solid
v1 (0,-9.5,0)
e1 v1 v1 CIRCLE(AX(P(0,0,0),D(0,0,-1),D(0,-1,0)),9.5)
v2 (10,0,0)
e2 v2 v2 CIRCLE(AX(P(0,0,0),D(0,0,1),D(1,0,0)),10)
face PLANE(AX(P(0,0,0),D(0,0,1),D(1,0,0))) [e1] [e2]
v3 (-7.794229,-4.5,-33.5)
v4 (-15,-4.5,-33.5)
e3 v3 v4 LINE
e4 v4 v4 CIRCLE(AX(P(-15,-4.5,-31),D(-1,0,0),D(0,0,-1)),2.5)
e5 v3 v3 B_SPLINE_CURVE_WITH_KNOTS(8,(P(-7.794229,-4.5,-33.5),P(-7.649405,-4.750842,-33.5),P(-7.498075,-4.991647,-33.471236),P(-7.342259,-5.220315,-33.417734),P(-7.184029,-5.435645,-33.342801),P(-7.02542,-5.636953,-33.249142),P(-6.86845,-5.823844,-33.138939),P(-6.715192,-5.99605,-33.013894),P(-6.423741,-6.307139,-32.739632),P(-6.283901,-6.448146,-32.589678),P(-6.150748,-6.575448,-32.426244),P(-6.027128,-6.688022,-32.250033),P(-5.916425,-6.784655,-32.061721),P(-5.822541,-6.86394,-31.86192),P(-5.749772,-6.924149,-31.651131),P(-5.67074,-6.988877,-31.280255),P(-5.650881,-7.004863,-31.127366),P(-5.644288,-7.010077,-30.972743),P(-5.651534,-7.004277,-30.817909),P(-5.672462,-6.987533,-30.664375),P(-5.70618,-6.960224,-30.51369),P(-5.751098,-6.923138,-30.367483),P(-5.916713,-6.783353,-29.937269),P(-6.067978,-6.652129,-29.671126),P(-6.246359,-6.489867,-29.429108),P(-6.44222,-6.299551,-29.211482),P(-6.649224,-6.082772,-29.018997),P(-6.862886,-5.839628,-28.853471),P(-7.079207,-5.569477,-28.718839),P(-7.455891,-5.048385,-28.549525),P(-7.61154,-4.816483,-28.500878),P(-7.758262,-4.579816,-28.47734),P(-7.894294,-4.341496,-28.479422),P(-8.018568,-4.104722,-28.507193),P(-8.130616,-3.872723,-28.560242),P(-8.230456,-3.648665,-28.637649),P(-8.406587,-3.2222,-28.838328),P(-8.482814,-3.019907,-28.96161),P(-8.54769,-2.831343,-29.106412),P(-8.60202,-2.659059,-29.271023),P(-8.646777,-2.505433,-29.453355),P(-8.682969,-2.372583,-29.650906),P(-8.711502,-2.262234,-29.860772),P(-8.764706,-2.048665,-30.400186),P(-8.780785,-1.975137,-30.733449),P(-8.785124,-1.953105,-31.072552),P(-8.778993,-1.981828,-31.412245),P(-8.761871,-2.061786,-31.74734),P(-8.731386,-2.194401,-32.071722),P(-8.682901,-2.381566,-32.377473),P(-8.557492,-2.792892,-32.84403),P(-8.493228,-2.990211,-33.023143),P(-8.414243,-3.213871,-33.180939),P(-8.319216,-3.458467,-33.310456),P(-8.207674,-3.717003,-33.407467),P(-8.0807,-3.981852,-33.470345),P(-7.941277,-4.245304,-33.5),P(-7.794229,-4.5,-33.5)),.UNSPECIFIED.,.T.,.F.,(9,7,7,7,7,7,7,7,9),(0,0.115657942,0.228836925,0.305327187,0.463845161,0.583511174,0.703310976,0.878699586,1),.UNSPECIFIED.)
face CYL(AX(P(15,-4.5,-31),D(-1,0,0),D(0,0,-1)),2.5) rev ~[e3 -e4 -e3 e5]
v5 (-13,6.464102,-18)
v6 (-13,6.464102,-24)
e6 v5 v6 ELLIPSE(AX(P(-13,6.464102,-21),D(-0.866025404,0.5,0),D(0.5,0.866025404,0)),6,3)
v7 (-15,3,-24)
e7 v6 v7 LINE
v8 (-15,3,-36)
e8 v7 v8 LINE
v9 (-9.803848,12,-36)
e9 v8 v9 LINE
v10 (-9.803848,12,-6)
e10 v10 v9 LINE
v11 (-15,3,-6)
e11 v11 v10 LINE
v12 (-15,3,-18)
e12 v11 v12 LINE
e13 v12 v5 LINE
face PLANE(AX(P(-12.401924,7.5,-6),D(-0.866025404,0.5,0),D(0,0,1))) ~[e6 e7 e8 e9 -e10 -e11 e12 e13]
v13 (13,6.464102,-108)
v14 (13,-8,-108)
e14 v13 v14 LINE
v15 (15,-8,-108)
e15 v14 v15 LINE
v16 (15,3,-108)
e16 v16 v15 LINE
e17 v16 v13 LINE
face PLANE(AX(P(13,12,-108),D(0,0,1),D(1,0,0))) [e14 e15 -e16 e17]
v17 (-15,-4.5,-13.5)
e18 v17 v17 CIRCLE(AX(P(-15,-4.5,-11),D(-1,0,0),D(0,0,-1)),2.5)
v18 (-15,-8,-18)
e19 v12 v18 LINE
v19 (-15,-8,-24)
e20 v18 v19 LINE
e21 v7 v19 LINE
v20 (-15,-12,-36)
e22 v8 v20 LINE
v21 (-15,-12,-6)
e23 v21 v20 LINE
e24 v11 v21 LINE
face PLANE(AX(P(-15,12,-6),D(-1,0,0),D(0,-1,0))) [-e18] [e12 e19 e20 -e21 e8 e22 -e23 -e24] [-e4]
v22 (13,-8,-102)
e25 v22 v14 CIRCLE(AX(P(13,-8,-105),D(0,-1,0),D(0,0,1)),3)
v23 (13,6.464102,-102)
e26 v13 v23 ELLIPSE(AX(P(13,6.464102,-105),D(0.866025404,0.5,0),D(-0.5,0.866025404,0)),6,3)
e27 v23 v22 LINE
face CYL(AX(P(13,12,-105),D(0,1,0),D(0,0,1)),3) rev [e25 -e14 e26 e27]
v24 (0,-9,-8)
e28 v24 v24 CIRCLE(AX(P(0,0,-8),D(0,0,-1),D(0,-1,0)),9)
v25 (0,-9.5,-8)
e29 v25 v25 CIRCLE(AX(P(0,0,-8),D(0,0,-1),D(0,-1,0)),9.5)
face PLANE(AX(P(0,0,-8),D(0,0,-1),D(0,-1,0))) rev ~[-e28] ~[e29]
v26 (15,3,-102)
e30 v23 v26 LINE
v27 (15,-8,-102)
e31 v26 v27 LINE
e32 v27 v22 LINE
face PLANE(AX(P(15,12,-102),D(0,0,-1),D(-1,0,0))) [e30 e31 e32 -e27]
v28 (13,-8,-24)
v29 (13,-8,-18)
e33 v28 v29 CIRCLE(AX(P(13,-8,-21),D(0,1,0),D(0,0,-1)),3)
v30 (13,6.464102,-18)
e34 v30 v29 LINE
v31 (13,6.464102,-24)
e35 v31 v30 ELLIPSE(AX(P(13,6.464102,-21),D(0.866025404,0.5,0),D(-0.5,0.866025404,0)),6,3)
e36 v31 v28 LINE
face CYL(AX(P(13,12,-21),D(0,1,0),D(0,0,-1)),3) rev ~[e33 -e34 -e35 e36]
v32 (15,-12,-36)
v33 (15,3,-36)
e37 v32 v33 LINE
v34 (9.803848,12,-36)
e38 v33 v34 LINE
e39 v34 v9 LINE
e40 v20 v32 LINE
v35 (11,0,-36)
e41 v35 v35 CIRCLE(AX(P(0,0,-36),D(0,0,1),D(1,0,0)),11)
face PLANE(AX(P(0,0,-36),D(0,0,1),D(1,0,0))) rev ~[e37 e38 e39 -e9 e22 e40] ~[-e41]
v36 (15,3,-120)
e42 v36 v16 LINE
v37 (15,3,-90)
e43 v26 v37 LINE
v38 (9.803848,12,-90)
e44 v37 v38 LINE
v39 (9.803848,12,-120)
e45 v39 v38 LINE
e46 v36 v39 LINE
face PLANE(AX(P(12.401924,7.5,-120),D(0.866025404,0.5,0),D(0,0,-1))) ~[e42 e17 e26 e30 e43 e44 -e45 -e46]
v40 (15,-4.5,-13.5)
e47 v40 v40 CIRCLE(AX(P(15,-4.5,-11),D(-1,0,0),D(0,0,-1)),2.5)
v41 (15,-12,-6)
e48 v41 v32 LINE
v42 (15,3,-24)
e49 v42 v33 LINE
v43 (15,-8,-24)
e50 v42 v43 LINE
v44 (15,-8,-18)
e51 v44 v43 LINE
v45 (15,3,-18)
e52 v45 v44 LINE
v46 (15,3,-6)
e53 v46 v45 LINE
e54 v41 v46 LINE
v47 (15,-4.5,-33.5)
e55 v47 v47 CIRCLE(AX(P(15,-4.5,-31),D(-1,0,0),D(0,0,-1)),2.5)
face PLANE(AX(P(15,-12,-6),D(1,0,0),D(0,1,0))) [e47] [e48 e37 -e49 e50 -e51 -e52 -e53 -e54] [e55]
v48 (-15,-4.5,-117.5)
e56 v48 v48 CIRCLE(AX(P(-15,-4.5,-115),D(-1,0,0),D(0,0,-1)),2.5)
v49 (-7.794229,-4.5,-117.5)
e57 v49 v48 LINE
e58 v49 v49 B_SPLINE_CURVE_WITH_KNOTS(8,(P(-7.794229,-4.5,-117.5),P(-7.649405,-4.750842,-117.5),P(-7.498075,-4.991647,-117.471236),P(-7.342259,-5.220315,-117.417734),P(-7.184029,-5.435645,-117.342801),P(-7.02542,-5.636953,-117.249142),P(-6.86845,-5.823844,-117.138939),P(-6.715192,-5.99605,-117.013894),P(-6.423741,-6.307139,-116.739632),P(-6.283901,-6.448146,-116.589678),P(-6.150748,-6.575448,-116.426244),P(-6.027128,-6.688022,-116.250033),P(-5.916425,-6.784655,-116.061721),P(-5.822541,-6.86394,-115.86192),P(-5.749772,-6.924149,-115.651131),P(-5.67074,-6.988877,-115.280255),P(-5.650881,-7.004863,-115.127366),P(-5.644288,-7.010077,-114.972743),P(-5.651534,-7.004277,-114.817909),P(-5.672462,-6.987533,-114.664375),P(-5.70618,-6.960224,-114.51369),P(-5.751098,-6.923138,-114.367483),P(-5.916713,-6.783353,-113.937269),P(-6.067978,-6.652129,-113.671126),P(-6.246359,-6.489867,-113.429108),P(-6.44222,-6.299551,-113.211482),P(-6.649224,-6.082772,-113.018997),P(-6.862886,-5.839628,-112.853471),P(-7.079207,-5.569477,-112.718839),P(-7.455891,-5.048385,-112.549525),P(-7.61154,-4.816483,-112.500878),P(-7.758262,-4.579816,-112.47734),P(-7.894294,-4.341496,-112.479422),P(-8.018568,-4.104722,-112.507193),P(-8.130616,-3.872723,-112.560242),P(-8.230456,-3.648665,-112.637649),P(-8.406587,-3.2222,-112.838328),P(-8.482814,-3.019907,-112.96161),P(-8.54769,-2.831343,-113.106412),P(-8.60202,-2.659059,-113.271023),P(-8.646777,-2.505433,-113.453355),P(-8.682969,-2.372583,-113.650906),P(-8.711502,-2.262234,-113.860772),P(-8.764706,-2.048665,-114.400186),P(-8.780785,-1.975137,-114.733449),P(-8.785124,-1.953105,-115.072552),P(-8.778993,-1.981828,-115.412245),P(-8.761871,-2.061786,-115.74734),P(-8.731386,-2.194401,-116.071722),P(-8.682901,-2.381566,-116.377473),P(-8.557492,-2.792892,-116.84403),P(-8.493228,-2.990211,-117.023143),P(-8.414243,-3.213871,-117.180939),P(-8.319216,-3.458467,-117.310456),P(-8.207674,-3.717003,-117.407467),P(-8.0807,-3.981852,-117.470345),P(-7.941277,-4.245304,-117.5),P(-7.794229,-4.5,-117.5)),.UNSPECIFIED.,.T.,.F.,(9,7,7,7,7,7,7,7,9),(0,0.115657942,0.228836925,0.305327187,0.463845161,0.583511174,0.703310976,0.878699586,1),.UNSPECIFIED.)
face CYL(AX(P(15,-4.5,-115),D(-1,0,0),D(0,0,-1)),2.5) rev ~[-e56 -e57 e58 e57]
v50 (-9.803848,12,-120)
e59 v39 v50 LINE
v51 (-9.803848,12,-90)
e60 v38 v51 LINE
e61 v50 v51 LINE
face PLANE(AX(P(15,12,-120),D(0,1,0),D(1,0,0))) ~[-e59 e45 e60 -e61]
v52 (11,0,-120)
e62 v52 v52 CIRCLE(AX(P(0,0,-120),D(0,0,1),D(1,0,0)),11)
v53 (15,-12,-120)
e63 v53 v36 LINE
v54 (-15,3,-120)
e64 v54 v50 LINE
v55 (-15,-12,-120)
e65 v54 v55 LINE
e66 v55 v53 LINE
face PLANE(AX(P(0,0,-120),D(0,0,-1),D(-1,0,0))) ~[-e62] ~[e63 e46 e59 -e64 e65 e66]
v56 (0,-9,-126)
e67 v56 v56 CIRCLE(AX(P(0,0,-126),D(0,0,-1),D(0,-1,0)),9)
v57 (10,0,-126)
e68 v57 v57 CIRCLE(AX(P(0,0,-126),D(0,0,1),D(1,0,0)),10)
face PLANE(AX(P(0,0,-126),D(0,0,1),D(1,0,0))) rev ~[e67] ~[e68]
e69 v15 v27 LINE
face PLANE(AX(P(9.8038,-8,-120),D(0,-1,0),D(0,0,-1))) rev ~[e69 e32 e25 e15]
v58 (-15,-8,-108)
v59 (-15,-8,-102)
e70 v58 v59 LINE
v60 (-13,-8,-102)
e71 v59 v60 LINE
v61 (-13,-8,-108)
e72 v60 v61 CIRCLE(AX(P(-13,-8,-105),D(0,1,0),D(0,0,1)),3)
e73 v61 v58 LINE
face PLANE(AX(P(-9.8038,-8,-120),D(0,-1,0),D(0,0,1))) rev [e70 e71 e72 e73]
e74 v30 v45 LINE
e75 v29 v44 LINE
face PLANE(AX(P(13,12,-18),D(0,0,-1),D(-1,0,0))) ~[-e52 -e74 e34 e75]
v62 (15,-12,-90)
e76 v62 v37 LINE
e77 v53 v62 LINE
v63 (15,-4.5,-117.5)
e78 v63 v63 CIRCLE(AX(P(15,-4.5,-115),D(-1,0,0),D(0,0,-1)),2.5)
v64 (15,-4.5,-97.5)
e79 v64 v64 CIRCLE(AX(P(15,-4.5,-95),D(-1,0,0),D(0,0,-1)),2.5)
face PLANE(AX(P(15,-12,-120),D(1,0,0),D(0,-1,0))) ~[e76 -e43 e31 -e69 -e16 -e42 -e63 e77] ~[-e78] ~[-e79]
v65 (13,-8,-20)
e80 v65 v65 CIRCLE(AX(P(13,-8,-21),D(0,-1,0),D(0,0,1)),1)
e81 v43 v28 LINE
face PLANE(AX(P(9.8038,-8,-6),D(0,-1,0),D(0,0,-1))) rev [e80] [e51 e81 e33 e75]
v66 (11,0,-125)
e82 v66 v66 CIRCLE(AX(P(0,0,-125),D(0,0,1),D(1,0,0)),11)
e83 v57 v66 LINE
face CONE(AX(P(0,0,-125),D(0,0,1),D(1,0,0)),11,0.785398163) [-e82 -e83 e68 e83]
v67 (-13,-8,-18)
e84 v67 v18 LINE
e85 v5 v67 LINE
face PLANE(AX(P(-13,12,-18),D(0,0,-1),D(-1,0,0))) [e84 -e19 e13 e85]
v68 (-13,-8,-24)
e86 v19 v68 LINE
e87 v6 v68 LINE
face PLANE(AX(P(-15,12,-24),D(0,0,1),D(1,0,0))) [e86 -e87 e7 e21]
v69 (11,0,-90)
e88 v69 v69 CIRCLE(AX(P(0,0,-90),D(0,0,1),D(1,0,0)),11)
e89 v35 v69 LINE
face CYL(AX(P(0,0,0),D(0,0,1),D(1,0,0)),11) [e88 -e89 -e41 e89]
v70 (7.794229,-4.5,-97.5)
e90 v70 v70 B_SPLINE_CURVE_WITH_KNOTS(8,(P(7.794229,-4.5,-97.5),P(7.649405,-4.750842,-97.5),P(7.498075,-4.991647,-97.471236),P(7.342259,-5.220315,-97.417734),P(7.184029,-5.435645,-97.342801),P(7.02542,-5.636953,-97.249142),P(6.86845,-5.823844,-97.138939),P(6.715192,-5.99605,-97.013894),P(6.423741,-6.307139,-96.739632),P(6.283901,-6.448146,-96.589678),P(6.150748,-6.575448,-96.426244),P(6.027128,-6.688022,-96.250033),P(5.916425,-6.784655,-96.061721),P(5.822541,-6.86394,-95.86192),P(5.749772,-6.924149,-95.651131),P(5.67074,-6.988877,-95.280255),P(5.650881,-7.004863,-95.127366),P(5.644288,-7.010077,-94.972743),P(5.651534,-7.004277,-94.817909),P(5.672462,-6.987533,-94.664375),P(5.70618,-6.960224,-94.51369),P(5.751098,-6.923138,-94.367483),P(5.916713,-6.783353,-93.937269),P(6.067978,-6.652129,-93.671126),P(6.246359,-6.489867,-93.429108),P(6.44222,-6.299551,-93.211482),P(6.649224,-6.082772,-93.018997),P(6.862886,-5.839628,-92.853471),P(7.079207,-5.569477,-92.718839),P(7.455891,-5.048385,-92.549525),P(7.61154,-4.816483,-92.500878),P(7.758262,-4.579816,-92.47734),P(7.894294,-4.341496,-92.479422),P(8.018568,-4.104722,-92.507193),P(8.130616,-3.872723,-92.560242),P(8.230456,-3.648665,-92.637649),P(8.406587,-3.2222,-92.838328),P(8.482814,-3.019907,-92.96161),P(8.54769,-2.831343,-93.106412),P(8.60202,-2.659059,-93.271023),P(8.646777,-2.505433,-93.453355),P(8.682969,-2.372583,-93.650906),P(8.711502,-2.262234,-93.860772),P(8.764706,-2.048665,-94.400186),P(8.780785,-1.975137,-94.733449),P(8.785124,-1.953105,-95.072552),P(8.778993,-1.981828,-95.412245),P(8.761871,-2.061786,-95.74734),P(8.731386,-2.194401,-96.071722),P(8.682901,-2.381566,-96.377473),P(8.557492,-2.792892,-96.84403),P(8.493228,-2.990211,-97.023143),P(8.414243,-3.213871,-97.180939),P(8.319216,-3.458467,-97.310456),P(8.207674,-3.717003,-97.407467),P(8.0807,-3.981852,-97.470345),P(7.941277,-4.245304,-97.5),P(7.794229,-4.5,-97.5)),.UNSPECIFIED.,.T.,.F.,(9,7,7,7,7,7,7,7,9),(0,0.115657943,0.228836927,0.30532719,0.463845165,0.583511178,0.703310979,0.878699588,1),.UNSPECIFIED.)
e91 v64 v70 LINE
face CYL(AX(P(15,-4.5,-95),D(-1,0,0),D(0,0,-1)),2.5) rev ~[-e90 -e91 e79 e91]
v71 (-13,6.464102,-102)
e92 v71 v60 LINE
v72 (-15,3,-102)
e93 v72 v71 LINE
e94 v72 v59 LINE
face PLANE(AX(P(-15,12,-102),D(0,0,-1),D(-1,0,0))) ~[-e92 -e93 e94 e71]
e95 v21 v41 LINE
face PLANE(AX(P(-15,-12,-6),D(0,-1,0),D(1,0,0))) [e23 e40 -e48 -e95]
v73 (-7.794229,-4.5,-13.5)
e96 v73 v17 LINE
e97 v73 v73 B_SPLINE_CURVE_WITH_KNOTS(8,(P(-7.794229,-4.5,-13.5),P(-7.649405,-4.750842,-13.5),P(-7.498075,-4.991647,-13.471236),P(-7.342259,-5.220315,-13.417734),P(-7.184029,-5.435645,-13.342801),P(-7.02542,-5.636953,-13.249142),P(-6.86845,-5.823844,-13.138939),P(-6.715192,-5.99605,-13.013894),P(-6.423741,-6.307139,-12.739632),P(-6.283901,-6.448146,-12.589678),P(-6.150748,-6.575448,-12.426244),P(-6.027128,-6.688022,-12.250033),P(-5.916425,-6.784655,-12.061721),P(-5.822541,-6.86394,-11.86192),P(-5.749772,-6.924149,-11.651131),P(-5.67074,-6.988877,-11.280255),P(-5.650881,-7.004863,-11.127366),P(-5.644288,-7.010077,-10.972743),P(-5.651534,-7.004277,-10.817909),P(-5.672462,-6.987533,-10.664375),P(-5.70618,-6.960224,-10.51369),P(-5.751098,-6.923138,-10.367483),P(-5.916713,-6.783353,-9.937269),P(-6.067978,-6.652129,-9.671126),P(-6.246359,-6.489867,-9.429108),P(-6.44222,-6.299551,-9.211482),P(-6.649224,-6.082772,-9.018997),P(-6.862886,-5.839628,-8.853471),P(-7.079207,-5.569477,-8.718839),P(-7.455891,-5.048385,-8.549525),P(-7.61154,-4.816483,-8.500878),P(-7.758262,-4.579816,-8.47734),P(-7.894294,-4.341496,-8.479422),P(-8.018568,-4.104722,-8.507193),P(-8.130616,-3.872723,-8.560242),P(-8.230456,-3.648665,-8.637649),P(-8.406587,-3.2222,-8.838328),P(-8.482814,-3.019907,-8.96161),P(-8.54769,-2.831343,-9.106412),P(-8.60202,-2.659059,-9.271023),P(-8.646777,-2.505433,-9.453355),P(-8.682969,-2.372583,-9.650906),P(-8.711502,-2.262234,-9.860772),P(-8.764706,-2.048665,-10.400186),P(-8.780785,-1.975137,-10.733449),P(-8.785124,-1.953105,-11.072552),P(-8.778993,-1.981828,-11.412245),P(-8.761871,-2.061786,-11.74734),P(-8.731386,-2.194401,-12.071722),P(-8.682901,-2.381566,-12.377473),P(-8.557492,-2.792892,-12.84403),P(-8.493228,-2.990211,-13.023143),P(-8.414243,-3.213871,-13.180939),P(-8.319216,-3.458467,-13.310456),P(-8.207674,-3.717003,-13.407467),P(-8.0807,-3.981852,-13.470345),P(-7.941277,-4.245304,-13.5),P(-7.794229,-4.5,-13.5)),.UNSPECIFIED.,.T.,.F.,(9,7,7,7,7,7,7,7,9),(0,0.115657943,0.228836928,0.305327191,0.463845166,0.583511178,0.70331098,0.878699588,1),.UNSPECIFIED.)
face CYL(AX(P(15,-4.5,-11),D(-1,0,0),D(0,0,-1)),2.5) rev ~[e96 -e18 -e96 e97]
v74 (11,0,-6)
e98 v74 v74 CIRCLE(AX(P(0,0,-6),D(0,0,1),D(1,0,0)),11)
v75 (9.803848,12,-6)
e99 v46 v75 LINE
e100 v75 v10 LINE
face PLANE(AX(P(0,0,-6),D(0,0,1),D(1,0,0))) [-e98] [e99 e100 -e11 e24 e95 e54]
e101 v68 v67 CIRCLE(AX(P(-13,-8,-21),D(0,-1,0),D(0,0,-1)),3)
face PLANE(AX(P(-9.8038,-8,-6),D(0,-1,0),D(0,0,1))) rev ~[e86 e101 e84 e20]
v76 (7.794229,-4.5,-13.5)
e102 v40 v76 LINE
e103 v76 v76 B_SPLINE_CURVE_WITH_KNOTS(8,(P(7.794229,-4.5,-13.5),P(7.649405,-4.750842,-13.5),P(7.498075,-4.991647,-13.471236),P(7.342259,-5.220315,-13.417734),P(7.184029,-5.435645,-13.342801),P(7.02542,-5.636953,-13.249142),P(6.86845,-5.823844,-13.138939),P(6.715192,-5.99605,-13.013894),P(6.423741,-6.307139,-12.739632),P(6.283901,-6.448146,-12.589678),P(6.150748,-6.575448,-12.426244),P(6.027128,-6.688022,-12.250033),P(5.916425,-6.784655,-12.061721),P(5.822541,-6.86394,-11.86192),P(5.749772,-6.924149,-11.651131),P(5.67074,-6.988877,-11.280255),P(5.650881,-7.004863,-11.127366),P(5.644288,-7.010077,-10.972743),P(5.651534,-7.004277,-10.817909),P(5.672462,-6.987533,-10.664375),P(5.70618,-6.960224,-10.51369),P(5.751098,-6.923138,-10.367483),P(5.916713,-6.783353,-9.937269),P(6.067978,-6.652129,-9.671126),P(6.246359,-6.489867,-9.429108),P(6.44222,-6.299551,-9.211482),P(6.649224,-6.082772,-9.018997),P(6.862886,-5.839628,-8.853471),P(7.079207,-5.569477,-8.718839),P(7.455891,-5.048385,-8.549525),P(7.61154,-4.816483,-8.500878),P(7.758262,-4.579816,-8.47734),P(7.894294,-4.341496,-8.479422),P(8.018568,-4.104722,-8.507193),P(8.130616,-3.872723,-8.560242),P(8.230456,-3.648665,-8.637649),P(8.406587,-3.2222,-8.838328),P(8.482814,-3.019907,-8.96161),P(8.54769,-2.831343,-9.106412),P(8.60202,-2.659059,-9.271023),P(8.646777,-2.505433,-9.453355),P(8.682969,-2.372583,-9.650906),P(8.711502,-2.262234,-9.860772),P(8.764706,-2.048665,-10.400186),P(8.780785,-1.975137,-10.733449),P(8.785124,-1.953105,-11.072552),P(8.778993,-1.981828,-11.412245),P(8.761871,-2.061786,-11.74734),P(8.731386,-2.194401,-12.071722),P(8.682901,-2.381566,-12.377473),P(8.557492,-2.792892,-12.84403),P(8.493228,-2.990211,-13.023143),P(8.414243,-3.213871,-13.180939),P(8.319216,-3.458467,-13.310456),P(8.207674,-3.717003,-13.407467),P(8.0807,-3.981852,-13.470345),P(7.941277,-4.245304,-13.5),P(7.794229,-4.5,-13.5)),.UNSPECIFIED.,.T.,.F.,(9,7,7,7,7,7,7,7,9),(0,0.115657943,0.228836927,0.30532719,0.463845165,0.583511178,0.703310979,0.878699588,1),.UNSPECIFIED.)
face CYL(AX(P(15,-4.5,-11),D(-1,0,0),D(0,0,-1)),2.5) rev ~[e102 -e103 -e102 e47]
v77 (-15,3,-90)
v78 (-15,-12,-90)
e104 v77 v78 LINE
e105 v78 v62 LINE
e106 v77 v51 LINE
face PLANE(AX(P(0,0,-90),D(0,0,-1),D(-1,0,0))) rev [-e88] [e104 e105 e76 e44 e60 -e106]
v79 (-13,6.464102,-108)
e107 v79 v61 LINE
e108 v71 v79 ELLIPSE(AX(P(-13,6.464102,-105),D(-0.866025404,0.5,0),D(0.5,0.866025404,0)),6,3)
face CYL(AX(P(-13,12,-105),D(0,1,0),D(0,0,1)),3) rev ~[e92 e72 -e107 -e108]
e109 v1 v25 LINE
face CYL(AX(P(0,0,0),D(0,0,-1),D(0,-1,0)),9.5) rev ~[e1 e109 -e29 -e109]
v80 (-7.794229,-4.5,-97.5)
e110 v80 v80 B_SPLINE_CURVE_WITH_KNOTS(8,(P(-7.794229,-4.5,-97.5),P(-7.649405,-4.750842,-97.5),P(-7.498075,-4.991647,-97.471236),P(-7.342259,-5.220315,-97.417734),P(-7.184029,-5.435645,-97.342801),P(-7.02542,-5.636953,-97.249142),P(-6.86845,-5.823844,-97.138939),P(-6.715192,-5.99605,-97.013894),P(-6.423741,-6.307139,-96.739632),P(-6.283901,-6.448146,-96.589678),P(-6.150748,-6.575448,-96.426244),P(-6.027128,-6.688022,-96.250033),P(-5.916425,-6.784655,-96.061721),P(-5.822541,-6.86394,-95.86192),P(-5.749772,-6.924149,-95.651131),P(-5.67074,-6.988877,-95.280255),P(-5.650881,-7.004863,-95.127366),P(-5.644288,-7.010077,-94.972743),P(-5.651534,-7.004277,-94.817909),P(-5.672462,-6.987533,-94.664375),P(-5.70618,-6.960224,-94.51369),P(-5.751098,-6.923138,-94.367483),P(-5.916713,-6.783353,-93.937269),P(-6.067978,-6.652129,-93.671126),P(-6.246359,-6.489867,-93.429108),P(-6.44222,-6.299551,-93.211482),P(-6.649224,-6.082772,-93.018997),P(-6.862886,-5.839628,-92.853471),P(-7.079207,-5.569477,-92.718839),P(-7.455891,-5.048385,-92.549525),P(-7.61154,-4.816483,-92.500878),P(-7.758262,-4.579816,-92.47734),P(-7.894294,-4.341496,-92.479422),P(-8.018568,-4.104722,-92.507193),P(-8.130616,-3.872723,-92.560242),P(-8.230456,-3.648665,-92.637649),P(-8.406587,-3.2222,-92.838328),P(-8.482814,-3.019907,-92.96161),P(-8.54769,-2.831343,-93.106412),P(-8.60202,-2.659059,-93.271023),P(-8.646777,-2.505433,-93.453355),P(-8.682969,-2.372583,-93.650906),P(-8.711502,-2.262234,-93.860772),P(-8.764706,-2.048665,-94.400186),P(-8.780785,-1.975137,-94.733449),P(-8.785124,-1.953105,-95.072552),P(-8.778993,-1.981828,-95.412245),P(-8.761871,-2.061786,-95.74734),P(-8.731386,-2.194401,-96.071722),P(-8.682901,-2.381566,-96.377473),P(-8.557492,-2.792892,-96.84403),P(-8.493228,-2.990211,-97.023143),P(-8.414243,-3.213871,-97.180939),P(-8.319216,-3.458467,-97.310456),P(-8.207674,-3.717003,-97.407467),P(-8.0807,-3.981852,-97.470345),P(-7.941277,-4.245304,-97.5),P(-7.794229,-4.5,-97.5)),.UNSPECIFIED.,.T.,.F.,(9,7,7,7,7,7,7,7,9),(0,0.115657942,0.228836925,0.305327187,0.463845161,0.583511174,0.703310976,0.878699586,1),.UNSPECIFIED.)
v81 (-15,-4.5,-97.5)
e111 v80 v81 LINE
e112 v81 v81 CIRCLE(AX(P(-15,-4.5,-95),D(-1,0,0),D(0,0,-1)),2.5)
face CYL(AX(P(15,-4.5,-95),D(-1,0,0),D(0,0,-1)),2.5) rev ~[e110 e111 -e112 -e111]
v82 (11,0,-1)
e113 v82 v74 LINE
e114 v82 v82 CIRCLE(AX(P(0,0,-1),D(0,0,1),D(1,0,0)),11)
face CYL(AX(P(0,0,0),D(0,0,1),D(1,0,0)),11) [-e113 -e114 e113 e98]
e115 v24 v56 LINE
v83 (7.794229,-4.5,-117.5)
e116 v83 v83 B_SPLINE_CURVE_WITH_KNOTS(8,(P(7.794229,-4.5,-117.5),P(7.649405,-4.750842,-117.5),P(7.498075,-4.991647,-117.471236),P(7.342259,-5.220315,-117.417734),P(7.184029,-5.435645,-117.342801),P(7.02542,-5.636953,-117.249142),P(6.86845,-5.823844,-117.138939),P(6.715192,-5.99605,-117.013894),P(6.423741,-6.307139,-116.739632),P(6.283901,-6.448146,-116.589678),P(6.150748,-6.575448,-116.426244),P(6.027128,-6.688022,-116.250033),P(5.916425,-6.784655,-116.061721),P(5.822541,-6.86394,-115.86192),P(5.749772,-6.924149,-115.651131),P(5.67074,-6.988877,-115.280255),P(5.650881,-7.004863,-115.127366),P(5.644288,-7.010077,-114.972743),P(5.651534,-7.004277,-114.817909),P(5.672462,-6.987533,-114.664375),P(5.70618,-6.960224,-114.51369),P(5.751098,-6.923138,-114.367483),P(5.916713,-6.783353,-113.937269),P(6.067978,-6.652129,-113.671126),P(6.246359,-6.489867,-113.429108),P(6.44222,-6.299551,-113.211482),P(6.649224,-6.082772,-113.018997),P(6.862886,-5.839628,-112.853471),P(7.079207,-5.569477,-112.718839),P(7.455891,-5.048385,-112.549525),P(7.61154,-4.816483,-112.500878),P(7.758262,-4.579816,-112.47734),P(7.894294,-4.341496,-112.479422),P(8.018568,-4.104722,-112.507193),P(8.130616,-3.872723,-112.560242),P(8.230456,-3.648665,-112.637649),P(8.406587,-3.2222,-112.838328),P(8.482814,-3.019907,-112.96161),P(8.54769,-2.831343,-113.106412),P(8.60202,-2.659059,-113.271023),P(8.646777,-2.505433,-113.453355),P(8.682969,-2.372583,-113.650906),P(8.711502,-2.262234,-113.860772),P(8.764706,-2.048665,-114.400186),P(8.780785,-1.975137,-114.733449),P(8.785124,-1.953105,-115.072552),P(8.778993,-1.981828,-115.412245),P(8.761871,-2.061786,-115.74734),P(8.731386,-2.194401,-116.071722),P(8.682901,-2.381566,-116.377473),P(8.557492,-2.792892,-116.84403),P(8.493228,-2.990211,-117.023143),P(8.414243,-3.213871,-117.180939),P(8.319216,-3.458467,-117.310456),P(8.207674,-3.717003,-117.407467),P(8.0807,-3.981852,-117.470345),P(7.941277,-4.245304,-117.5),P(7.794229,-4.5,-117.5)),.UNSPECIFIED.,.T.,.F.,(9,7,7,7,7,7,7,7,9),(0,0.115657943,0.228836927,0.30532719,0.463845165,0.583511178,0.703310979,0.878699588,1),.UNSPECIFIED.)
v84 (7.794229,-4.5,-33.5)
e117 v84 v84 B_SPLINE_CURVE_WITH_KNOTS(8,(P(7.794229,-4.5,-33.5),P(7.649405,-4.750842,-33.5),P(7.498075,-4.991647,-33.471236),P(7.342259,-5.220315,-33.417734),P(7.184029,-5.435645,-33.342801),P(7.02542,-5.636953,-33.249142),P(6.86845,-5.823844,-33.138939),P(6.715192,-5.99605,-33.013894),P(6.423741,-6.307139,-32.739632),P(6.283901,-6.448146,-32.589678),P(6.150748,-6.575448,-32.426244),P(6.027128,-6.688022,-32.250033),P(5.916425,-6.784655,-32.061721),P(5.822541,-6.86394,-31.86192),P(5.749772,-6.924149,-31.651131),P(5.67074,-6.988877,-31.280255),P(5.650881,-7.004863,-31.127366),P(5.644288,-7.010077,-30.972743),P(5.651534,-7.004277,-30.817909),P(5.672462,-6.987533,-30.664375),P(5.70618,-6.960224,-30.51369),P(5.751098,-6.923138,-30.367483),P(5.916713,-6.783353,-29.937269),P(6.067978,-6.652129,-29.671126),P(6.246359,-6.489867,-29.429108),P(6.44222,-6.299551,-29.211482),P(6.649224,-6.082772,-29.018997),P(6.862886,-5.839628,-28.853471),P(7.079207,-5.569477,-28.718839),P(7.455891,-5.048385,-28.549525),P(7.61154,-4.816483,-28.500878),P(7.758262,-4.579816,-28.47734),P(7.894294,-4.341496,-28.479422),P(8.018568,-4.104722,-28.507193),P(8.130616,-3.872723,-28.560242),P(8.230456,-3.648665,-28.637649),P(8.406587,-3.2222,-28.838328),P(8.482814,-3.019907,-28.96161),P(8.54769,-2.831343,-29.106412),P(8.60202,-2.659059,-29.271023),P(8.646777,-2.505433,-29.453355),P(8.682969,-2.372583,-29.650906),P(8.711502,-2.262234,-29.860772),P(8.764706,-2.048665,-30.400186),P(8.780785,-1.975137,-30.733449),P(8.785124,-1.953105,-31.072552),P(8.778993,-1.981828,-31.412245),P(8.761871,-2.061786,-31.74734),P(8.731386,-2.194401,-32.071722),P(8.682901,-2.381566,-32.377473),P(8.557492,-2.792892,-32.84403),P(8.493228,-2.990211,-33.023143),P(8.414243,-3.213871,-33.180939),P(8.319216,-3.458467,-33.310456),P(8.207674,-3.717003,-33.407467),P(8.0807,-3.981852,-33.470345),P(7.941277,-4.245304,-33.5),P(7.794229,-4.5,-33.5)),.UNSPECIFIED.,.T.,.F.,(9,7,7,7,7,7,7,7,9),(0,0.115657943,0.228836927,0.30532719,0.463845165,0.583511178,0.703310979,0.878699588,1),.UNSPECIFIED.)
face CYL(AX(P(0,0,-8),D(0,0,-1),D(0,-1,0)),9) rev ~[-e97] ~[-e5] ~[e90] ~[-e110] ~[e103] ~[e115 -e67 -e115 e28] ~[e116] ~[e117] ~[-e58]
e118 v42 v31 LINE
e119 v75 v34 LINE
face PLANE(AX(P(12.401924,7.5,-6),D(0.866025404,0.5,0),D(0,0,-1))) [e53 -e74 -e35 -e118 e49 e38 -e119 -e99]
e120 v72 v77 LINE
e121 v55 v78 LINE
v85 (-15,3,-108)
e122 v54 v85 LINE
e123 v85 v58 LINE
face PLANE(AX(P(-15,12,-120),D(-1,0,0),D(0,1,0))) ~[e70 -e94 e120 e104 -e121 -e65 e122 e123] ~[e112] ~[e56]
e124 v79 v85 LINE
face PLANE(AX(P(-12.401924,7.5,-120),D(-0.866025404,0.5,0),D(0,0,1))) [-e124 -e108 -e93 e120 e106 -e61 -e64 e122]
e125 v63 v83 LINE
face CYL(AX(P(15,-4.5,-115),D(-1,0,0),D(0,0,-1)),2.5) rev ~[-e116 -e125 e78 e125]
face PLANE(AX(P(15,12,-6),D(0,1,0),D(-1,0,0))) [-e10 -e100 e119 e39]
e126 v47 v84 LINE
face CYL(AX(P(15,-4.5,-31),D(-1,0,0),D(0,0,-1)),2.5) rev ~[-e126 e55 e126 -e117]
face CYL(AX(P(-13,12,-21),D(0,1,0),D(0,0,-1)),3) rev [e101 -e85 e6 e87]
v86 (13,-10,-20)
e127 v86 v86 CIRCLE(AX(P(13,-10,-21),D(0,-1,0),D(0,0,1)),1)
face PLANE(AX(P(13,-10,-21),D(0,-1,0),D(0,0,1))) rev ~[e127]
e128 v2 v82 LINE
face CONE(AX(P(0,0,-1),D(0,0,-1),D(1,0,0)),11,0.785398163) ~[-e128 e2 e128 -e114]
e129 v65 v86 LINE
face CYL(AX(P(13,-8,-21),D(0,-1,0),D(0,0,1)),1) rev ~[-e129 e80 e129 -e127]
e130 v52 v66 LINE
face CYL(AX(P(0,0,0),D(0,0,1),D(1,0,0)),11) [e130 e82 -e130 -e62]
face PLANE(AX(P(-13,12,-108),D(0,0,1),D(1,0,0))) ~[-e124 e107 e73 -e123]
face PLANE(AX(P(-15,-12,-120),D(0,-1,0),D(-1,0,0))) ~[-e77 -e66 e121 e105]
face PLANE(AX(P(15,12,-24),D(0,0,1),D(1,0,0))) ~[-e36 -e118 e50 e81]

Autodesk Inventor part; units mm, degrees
sketch "Skizze1" plane through (0, 0, 0) normal (0, 0, 1) x (1, 0, 0)
  circle A0 centre (0, 0) radius 11
  dimension "d0" = 22
extrude "Extrusion1" add sketch "Skizze1" against normal blind 126
ref_plane "Arbeitsebene1" through (0, 0, -6) normal (0, 0, 1) x (1, 0, 0)
sketch "Skizze2" plane through (0, 0, -6) normal (0, 0, 1) x (1, 0, 0)
  line L0 (-15, -12) -> (15, -12)
  line L1 (15, -12) -> (15, 12)
  line L2 (15, 12) -> (-15, 12)
  line L3 (-15, 12) -> (-15, -12)
  line L4 (-15, -12) -> (15, 12) construction
  line L5 (15, -12) -> (-15, 12) construction
  point P0 (0, 0)
  dimension "d4" = 24
  dimension "d5" = 30
extrude "Extrusion2" add sketch "Skizze2" against normal blind 30
chamfer "Fasen1" distance 9 angle 30 1 edges at (15, 12, -21) measured on face at (15, -4, -16)
chamfer "Fasen2" distance 9 angle 30 1 edges at (-15, 12, -21) measured on face at (-15, 4, -16)
ref_plane "Arbeitsebene2" through (0, 0, -63) normal (0, 0, 1) x (1, 0, 0)
mirror "Spiegeln1" about plane through (0, 0, -63) normal (0, 0, 1) of "Extrusion2", "Fasen2", "Fasen1"
ref_plane "Arbeitsebene4" through (9.8038, 12, -120) normal (0, -1, 0) x (0, 0, -1)
sketch "Skizze4" plane through (9.8038, 12, -120) normal (0, -1, 0) x (0, 0, -1)
  line L0 (-30, 5.1962) -> (-30, 0) projected
  line L1 (0, 5.1962) -> (-30, 5.1962) projected
  line L2 (0, 0) -> (0, 5.1962) projected
  line L3 (-30, 0) -> (0, 0) projected
  line L4 (-18, 5.1962) -> (-18, 3.1962)
  arc A0 (-18, 3.1962) -> (-12, 3.1962) centre (-15, 3.1962) ccw
  line L5 (-12, 3.1962) -> (-12, 5.1962)
  point P0 (-120, -9.8038)
  point P1 (-15, 5.1962)
  dimension "d18" = 2
  dimension "d19" = 6
extrude "Extrusion3" cut sketch "Skizze4" along normal blind 20 contours L1 L5 A0 L4
mirror "Spiegeln2" about plane through (0, 0, -63) normal (0, 0, 1) of "Extrusion3"
ref_plane "Arbeitsebene5" through (0, 0, 0) normal (1, 0, 0) x (0, 1, 0)
mirror "Spiegeln3" about plane through (0, 0, 0) normal (1, 0, 0) of "Extrusion3", "Spiegeln2"
sketch "Skizze5" plane through (13, -8, -18) normal (0, 1, 0) x (1, 0, 0)
  arc A0 (0, 6) -> (0, 0) centre (0, 3) ccw projected
  point P0 (-13, -18)
hole "Bohrung1" at (13, -8, -21) direction (0, -1, 0) diameter 2 depth 2
sketch "Skizze6" plane through (15, -12, -6) normal (1, 0, 0) x (0, 0, -1)
  line L0 (0, 0) -> (0, 15) projected
  line L1 (0, 0) -> (30, 0) projected
  line L2 (15, 0) -> (15, 23.6603) construction
  ellipse E0 centre (15, 18.4641) end of major axis (15, 23.6603) minor radius 3 (18, 18.4641) -> (12, 18.4641) ccw projected
  line L3 (114, 0) -> (84, 0) projected
  line L4 (99, 0) -> (99, 23.6603) construction
  ellipse E1 centre (99, 18.4641) end of major axis (99, 23.6603) minor radius 3 (102, 18.4641) -> (96, 18.4641) ccw projected
  line L5 (84, 15) -> (84, 0) projected
  point P0 (-6, 12)
  point P1 (5, 7.5)
  point P2 (0, 7.5)
  point P3 (25, 7.5)
  point P4 (89, 7.5)
  point P5 (109, 7.5)
  point P6 (84, 7.5)
  point P7 (84, 7.5)
  dimension "d30" = 5
  dimension "d31" = 5
hole "Bohrung2" at (15, -4.5, -11) at (15, -4.5, -31) at (15, -4.5, -95) at (15, -4.5, -115) direction (-1, 0, 0) diameter 5 depth 30
sketch "Skizze7" plane through (0, 0, 0) normal (0, 0, 1) x (1, 0, 0)
  circle A0 centre (0, 0) radius 11 projected
hole "Bohrung3" at (0, 0, 0) direction (0, 0, -1) diameter 19 depth 8
sketch "Skizze8" plane through (0, 0, -8) normal (0, 0, 1) x (1, 0, 0)
  circle A0 centre (0, 0) radius 11 projected
hole "Bohrung4" at (0, 0, -8) direction (0, 0, -1) diameter 18 depth 118
chamfer "Fasen3" distance 1 angle 45 1 edges at (-11, 0, 0)
chamfer "Fasen4" distance 1 angle 45 1 edges at (-11, 0, -126)
properties part number "Wellengehäuse" material "Stahl, galvanisiert"
